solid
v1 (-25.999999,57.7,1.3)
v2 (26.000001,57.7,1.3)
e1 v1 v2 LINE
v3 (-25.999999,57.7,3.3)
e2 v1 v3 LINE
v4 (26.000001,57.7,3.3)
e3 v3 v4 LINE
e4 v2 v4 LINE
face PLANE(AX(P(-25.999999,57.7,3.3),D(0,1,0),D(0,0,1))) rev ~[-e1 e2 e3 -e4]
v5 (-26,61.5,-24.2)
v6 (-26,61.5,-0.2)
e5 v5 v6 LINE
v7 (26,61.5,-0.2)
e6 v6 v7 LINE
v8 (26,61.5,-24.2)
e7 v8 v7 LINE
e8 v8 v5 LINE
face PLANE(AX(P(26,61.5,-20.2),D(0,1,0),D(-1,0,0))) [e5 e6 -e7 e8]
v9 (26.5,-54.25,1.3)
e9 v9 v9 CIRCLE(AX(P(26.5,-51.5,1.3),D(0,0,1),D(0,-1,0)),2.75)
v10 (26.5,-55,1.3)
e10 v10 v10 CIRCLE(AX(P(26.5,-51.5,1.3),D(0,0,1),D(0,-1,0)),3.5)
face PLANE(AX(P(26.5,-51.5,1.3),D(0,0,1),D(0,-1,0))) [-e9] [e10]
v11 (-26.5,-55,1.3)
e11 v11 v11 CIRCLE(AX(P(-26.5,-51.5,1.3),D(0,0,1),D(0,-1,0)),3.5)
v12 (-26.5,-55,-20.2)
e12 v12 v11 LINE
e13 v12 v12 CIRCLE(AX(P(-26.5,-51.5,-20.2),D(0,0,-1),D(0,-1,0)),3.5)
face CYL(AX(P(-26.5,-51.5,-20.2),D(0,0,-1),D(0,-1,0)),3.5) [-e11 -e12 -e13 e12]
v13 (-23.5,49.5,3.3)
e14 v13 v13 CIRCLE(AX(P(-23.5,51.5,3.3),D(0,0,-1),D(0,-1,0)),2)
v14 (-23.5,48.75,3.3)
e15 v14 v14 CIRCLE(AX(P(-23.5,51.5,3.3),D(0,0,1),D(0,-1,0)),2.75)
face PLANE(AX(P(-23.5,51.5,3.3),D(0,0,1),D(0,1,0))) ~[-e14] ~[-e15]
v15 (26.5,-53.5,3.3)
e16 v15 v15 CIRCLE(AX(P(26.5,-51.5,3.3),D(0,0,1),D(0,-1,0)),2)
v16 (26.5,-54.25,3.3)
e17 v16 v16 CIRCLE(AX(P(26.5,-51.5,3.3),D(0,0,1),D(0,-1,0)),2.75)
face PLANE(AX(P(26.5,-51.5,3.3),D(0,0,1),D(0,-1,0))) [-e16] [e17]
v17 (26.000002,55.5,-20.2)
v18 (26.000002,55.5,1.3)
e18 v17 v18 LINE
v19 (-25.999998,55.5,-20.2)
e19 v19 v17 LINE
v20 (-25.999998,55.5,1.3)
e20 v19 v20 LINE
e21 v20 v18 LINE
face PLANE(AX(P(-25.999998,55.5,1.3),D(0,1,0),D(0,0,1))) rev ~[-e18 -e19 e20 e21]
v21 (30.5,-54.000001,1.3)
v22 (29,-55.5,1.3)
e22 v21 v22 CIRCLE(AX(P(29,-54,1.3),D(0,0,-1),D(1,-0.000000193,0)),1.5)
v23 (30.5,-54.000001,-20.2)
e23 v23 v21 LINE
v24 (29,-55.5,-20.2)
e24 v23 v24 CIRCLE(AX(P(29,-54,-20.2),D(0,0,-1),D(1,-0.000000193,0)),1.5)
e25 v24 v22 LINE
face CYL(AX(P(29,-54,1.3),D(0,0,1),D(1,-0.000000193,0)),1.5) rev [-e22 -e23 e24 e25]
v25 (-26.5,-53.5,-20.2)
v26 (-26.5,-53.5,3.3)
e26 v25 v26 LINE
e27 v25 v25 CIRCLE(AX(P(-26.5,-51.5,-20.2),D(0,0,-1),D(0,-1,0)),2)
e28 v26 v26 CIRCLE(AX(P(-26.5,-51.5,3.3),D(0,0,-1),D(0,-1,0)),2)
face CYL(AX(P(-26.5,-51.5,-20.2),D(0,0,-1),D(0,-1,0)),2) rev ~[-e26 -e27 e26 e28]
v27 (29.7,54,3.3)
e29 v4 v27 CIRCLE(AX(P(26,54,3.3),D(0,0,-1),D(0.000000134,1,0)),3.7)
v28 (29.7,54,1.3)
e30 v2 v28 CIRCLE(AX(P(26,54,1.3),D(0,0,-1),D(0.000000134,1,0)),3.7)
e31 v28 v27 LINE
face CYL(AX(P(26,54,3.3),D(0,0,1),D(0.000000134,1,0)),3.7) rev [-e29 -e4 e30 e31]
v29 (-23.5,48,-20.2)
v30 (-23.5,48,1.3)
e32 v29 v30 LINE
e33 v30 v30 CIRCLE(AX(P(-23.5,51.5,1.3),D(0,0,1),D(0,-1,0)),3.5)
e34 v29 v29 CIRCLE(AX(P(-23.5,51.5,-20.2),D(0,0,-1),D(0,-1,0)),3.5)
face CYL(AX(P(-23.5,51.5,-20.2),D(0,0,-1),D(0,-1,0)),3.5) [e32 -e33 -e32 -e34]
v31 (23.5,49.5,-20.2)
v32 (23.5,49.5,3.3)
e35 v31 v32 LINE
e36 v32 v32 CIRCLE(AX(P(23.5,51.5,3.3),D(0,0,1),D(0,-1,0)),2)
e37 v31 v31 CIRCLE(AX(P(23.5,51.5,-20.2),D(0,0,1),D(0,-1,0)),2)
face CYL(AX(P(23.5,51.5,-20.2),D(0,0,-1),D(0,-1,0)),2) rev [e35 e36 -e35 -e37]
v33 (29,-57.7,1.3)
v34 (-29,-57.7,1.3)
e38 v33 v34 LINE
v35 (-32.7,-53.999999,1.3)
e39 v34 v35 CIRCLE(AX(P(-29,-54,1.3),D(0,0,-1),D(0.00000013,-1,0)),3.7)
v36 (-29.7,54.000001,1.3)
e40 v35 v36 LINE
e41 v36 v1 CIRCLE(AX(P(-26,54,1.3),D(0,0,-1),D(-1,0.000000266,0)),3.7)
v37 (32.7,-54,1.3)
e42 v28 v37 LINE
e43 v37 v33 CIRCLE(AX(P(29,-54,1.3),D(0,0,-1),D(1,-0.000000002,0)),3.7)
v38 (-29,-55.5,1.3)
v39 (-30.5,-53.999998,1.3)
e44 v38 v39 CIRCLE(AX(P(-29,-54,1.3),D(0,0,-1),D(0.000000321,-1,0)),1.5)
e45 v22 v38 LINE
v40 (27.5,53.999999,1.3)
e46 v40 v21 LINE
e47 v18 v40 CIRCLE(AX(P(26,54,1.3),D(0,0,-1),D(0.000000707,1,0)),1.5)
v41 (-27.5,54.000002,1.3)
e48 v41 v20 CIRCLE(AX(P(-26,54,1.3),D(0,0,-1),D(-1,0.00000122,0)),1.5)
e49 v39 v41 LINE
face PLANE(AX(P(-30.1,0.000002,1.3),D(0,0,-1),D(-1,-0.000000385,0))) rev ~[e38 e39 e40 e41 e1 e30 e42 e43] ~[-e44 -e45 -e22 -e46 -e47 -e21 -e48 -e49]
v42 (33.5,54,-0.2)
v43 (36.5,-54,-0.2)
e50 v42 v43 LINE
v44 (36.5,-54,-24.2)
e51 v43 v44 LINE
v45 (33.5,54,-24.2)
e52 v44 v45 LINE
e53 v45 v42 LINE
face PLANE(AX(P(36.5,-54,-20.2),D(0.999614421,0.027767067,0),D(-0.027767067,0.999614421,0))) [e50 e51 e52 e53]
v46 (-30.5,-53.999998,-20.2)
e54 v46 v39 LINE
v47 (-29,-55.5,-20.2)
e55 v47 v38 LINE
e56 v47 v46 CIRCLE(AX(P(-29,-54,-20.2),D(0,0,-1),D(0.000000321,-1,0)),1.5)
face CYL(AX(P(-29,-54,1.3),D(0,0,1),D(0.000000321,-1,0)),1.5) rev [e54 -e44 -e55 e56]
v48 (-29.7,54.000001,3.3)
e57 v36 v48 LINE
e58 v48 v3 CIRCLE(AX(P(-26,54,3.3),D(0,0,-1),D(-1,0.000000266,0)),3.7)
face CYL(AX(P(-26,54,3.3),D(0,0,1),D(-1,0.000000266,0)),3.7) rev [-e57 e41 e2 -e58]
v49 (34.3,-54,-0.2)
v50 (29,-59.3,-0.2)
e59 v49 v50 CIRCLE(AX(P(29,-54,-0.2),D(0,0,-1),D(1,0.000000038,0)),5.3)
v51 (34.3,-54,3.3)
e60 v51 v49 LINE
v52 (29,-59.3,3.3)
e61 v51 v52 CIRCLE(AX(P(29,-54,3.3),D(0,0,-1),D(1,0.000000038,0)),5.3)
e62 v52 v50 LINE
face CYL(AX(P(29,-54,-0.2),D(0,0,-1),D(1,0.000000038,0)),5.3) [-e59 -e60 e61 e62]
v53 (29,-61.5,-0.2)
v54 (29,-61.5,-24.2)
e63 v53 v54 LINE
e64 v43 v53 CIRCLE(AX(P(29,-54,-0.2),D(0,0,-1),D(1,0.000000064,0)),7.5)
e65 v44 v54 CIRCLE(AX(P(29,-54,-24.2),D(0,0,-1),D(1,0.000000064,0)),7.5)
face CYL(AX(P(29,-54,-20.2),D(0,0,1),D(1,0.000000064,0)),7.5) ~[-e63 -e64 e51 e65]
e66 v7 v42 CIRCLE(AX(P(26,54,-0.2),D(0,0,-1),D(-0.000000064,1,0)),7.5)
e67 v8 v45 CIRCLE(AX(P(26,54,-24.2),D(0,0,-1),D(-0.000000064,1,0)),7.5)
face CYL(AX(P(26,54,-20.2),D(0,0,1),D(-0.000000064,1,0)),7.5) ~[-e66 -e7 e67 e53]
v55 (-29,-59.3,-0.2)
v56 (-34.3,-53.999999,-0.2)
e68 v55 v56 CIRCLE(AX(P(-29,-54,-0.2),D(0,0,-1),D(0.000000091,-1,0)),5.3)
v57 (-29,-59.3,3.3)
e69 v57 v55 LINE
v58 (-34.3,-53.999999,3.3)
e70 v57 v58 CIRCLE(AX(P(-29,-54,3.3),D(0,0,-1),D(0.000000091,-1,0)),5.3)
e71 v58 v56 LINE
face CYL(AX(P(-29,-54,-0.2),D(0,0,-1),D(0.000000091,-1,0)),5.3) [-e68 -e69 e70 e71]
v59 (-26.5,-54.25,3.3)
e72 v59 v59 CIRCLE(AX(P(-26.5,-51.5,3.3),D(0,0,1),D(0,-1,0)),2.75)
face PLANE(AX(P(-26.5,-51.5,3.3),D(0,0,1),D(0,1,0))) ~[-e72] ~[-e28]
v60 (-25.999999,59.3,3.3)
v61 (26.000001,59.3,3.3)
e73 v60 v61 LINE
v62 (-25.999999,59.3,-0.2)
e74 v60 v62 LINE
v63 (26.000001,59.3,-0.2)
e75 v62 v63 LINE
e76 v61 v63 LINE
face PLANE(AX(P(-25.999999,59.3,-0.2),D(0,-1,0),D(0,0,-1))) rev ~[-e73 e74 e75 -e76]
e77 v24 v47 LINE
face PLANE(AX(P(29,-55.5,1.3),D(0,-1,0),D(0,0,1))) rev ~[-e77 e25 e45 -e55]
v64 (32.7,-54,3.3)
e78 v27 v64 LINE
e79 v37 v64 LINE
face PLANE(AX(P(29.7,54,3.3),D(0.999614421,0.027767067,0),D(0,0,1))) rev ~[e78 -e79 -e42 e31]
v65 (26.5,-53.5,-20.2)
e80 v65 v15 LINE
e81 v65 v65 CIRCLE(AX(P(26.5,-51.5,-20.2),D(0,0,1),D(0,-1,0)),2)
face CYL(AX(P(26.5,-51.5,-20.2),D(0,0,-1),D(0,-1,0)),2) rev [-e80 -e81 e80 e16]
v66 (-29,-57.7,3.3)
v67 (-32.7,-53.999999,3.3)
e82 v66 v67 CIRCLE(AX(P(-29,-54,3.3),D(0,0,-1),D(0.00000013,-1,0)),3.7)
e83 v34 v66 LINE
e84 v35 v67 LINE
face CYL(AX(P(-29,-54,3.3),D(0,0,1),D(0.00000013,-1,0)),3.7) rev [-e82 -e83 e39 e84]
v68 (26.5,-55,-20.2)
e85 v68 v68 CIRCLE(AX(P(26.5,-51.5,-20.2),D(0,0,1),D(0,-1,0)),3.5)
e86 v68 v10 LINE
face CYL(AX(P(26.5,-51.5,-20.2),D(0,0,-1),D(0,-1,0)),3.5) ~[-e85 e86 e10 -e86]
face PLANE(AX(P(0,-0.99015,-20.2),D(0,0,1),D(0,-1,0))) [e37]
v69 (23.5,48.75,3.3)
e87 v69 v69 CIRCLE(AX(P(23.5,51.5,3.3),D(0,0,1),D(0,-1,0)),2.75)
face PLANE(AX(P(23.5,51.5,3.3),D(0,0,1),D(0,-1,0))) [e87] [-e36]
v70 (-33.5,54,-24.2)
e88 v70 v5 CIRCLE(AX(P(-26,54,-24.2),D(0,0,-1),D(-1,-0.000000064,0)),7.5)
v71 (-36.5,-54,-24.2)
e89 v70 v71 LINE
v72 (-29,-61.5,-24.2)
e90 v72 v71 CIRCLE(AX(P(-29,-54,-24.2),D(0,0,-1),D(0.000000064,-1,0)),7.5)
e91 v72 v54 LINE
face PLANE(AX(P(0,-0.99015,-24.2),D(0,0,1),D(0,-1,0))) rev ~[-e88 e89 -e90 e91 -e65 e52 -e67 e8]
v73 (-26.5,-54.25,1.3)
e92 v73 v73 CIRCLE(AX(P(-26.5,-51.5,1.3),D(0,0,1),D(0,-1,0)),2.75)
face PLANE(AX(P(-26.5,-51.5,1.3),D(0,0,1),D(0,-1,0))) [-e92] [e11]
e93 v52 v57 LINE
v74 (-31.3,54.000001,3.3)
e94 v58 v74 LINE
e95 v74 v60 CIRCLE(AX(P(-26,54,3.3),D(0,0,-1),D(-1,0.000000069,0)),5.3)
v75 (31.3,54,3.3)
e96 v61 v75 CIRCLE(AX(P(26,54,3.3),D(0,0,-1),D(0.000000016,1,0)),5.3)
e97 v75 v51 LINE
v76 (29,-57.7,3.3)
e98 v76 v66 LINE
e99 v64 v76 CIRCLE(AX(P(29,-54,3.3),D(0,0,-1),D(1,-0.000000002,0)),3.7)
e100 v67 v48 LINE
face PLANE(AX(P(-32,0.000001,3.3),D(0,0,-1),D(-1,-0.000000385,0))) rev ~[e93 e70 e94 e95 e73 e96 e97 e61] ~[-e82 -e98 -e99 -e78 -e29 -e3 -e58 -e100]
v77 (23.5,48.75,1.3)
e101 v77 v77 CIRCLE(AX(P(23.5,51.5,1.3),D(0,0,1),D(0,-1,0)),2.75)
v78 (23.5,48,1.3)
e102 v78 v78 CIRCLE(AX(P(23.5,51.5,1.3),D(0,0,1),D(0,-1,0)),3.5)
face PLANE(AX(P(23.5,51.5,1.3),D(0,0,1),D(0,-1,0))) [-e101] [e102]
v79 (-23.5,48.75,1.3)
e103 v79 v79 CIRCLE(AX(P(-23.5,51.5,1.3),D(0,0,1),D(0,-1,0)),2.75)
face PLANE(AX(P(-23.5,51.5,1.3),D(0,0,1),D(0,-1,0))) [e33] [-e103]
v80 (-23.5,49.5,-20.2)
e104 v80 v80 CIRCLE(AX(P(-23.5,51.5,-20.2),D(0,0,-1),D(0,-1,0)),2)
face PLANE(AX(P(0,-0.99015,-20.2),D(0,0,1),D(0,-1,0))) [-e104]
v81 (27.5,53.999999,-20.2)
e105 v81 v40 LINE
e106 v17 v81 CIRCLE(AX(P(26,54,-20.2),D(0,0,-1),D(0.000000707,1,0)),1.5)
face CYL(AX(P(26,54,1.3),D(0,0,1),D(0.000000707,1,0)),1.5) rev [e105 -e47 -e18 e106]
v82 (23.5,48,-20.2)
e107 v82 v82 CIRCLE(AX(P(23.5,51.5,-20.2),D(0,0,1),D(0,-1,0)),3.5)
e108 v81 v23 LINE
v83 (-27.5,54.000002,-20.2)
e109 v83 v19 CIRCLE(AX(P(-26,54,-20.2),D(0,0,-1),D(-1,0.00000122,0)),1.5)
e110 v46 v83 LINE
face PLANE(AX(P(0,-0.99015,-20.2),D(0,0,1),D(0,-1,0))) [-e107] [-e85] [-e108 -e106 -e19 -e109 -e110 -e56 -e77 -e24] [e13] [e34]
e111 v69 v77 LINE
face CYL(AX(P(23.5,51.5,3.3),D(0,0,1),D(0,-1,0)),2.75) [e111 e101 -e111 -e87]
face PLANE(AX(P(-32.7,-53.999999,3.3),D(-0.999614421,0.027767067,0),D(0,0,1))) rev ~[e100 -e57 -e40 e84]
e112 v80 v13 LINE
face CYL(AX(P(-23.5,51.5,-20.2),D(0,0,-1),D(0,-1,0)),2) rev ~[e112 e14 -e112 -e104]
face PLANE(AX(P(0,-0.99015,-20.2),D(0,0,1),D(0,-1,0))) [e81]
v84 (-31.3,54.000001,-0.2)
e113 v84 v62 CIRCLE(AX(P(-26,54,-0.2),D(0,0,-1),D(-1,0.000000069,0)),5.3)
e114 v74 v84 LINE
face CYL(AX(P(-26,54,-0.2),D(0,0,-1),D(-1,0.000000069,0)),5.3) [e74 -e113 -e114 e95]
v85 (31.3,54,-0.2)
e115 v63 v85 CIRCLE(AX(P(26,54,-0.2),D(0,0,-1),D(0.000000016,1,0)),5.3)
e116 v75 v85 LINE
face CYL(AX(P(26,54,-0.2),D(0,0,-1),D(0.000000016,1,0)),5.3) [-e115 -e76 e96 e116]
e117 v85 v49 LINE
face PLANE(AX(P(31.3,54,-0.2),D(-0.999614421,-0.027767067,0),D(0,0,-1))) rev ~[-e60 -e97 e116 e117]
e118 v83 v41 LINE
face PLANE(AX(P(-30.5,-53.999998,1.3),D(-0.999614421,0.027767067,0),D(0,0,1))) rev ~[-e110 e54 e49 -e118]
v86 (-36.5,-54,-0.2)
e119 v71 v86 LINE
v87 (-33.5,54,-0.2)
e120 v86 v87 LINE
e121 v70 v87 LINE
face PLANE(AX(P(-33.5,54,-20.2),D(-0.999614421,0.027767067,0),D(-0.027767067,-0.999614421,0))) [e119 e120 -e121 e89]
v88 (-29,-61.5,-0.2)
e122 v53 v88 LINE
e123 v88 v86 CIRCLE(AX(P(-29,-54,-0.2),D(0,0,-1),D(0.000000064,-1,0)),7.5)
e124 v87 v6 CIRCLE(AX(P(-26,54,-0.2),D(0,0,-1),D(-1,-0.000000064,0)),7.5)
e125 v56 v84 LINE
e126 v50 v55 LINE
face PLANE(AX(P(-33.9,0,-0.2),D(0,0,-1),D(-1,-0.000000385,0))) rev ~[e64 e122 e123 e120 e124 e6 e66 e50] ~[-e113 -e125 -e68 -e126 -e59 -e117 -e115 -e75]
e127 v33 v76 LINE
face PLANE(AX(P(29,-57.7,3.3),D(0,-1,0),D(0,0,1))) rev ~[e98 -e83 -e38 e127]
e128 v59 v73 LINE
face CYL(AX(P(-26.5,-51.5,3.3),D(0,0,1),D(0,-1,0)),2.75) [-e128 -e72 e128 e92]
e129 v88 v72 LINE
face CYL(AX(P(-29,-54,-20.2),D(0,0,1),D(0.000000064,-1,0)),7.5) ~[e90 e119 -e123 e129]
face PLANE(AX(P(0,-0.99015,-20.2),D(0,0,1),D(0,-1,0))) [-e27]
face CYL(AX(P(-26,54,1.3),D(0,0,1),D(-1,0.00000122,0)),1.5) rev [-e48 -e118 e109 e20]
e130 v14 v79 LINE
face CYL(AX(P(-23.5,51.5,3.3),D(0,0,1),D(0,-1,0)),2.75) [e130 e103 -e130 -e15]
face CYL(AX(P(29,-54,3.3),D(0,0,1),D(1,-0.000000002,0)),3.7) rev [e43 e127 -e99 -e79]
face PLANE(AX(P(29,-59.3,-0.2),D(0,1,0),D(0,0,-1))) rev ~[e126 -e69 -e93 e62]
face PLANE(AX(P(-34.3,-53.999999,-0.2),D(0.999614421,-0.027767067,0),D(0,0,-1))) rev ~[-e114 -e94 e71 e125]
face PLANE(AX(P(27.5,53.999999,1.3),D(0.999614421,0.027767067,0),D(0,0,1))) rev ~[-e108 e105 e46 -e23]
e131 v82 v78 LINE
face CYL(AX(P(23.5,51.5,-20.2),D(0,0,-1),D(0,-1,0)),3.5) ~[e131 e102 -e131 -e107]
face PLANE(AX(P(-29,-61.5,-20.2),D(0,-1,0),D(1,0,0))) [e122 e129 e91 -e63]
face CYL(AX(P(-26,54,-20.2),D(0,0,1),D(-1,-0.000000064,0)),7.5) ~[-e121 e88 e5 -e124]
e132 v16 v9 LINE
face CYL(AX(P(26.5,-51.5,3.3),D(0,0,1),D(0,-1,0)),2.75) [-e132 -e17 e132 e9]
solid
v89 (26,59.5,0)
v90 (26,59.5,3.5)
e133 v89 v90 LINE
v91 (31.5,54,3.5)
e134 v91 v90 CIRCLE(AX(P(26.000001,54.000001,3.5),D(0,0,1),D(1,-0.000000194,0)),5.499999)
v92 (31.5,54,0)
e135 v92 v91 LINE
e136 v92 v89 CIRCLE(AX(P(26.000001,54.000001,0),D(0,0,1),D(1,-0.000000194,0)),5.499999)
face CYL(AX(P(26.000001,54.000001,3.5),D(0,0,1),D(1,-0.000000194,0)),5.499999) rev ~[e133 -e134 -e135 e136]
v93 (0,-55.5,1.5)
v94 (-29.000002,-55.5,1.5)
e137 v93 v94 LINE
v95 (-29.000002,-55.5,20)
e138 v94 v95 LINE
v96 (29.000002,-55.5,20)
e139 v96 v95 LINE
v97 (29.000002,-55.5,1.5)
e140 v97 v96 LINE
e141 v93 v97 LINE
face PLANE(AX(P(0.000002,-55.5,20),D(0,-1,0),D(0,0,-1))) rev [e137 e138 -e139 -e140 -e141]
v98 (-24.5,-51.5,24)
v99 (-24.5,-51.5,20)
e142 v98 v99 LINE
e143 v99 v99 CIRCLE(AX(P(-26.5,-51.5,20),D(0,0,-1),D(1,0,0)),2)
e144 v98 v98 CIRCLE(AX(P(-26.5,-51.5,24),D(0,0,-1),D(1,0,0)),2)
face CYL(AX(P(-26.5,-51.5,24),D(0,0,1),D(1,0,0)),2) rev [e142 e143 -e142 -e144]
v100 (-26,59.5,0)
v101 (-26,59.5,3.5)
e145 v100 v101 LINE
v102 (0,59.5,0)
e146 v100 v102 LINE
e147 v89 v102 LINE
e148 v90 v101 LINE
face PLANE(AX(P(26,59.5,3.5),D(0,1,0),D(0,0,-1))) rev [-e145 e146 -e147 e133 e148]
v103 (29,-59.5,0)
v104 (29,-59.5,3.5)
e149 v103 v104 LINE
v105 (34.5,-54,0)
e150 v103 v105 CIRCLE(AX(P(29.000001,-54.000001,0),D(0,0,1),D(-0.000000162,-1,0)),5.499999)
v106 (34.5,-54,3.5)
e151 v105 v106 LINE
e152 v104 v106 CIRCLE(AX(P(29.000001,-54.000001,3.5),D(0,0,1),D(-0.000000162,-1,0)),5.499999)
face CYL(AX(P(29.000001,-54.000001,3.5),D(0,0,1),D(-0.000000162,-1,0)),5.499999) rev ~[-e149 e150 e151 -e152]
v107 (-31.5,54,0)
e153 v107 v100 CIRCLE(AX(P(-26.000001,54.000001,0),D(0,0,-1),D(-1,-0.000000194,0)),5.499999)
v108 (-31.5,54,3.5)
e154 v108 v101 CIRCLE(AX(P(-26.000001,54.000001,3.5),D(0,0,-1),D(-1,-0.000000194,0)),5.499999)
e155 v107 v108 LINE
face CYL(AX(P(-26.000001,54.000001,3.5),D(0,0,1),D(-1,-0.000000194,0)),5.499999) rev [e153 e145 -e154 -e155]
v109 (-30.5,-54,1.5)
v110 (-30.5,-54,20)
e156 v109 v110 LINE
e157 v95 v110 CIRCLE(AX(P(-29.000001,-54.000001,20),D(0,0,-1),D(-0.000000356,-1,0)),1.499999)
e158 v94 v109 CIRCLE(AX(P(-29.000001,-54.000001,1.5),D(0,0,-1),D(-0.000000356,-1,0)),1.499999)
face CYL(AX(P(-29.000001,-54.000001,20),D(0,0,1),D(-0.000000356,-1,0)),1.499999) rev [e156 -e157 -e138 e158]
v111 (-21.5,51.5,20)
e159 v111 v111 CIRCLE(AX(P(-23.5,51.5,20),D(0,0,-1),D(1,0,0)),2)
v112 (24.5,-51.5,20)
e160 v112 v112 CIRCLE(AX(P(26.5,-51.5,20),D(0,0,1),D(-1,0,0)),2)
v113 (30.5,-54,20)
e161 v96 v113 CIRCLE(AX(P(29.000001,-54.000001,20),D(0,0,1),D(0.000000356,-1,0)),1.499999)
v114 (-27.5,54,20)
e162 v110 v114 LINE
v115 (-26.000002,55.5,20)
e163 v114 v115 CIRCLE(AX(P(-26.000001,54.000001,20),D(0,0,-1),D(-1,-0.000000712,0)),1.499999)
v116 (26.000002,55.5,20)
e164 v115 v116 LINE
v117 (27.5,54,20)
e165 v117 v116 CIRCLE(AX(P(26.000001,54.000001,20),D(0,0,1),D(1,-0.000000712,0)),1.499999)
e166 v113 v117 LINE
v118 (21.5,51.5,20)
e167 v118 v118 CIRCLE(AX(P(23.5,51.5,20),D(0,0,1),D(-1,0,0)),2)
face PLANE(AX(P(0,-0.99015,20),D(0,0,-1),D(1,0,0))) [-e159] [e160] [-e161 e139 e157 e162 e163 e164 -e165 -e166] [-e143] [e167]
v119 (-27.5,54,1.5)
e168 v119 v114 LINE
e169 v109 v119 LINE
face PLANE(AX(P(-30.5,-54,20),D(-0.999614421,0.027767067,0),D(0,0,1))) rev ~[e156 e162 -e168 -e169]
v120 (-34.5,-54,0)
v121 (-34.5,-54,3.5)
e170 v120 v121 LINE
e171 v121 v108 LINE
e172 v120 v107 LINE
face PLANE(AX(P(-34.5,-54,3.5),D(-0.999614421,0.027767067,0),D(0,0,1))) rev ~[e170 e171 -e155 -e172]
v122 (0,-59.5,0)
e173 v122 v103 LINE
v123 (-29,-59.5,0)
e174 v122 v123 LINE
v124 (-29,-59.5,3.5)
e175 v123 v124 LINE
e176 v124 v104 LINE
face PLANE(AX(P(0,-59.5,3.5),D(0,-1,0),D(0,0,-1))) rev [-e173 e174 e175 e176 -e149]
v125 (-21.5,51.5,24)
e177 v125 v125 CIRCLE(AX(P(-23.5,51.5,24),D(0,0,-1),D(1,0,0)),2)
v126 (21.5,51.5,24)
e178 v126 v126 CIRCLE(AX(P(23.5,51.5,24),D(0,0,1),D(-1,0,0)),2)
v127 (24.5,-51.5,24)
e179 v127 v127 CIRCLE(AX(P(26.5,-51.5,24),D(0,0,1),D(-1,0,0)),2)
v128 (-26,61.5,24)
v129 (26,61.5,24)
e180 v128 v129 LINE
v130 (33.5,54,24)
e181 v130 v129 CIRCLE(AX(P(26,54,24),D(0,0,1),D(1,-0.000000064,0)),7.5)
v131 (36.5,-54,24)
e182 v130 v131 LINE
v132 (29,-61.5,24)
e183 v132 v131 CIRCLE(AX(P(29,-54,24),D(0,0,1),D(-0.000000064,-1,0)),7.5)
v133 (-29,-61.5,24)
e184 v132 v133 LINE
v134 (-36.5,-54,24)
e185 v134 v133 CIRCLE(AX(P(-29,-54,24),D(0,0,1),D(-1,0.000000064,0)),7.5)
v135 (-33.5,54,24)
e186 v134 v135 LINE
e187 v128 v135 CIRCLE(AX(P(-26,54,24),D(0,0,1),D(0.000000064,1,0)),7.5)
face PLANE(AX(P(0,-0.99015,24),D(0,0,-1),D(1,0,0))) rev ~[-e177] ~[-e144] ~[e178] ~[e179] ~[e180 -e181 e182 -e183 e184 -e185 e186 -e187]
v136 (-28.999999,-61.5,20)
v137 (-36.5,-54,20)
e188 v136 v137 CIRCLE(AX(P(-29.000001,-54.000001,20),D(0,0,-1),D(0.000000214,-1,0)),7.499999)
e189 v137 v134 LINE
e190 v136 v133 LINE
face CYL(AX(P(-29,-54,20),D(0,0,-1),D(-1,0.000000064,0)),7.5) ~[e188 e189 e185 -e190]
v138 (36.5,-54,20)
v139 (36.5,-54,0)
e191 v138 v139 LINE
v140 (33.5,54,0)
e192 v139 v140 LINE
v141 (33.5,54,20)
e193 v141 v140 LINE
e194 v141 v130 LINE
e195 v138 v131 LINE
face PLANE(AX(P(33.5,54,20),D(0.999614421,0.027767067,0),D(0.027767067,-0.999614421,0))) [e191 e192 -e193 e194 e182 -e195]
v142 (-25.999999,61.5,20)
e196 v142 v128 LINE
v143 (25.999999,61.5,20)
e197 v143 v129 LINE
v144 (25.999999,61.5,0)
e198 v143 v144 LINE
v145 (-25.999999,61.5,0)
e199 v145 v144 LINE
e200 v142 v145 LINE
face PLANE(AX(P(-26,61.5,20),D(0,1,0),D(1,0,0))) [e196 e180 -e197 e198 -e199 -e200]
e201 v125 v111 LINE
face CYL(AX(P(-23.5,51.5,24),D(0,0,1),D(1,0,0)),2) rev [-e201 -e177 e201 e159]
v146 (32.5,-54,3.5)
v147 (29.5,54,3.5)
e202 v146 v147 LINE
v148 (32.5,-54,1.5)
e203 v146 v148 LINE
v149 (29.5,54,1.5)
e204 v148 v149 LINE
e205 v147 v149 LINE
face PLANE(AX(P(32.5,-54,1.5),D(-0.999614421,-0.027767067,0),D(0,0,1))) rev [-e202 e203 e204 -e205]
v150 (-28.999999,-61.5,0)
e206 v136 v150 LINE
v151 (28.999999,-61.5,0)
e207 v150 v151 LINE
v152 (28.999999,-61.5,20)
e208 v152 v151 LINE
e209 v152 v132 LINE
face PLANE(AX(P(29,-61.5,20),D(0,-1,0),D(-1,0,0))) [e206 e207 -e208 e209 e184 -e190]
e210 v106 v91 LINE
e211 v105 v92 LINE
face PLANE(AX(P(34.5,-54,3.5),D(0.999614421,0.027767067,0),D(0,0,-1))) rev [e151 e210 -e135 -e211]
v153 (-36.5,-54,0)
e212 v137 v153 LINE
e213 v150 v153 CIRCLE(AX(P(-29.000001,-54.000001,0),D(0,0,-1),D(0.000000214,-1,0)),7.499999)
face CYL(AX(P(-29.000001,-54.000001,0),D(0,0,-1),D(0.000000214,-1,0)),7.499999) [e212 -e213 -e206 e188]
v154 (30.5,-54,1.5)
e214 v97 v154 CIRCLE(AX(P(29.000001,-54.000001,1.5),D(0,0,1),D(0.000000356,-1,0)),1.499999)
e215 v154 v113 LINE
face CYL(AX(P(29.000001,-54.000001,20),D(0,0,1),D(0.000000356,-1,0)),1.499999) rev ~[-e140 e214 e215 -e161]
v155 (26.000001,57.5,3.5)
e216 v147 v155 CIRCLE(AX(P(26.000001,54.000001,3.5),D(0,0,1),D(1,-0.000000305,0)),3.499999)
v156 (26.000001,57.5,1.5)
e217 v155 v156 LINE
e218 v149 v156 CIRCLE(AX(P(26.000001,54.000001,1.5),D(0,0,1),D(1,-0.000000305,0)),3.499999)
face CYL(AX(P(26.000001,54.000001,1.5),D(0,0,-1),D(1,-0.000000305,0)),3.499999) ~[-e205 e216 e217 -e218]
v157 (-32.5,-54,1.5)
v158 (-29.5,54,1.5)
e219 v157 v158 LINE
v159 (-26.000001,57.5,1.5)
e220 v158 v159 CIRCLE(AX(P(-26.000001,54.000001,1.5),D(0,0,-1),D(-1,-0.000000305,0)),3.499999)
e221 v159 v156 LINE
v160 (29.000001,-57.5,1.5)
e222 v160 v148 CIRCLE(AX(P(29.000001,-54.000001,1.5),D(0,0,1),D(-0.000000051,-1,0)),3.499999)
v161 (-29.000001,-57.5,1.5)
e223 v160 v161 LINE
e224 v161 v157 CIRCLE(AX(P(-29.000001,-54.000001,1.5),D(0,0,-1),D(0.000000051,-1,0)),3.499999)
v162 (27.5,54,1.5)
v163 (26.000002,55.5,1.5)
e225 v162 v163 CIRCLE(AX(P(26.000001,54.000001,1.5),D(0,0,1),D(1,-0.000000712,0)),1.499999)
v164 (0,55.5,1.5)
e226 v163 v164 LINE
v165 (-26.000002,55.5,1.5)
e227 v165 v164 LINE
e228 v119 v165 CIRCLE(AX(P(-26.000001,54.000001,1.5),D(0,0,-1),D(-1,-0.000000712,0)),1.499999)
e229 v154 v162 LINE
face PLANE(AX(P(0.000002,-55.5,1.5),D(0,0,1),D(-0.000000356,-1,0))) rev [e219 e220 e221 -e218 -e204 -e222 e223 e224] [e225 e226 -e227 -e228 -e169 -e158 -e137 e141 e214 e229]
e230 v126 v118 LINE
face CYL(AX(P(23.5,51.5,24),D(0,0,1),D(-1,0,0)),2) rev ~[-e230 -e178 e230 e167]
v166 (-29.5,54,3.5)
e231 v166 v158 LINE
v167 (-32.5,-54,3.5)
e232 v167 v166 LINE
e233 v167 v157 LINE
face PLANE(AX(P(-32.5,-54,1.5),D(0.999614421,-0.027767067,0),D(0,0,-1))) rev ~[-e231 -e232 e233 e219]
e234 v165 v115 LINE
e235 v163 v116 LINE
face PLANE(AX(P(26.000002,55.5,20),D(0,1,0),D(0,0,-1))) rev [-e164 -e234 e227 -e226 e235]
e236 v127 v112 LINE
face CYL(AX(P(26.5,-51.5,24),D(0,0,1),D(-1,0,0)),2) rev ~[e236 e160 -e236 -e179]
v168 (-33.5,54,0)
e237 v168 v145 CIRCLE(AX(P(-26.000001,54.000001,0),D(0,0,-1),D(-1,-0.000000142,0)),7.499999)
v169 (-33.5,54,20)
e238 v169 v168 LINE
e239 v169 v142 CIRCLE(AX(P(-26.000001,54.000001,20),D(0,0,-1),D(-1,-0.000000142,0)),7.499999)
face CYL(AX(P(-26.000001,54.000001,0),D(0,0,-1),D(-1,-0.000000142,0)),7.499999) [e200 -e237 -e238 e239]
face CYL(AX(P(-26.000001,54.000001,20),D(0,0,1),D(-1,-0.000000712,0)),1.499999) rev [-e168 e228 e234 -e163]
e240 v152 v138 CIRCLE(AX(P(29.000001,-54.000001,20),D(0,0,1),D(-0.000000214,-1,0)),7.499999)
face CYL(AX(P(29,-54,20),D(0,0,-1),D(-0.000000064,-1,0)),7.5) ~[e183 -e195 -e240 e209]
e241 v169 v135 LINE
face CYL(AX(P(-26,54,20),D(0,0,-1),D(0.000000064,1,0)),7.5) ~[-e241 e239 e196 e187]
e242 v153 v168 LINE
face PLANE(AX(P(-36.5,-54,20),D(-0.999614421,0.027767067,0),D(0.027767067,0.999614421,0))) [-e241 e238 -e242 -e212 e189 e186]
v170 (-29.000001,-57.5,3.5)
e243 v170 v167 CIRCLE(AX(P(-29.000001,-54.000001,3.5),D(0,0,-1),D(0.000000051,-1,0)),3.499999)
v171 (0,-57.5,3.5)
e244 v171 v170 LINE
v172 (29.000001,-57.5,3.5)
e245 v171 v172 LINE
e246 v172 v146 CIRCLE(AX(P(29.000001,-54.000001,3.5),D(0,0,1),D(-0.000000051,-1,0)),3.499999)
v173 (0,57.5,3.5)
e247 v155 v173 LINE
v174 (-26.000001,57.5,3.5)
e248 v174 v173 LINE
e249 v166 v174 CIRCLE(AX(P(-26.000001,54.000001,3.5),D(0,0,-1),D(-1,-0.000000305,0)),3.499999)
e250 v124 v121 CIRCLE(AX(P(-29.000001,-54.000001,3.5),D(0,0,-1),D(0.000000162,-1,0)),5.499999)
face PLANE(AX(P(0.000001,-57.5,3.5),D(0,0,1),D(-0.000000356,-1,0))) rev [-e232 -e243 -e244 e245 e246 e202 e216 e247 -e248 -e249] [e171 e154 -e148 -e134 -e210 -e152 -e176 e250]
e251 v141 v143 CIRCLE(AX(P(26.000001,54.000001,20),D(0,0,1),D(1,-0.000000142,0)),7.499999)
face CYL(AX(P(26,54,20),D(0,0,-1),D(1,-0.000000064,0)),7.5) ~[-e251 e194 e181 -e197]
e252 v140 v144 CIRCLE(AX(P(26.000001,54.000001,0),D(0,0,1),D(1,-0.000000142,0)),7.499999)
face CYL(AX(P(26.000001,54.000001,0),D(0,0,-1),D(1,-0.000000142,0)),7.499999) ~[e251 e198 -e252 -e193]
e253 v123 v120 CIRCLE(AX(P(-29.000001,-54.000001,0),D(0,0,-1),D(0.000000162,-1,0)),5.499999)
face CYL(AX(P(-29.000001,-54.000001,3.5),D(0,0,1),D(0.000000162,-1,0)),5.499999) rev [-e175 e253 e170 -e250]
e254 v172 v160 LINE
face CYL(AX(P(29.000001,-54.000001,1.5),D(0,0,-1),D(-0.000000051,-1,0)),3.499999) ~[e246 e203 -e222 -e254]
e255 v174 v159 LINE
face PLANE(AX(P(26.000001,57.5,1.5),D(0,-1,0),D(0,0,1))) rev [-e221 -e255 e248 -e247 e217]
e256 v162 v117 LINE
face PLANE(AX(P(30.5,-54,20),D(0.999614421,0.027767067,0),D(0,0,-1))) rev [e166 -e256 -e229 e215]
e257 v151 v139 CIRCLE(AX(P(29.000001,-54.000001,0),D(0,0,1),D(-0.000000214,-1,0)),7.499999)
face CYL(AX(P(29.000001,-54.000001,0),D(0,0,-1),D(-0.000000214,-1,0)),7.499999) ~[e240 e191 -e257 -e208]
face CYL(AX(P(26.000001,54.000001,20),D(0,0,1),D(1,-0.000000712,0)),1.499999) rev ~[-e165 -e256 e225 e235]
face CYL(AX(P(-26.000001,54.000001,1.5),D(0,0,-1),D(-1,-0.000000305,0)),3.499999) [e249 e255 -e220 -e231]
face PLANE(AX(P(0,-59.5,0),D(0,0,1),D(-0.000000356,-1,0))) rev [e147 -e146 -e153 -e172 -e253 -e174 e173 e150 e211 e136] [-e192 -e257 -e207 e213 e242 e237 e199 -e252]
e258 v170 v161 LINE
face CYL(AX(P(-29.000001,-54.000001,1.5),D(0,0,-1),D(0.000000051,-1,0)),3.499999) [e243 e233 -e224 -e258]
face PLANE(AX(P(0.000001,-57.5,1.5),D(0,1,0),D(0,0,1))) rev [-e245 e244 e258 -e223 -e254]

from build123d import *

# Parameters (mm, degrees)
PAD_DEPTH       = 4
SKETCH006_R     = 2
POCKET_DEPTH    = 4
PAD001_DEPTH    = 4
SKETCH007_R     = 3.5
SKETCH007_R_2   = 2
PAD002_DEPTH    = 23.5
SKETCH008_R     = 3.5
SKETCH008_R_2   = 2.75
POCKET001_DEPTH = 2


with BuildPart() as topshell:
    # AdditivePipe: sweep along a path in Sketch
    with BuildLine(Plane.XY) as additivepipe_path:
        Line((0, -60), (-29, -60))
        ThreePointArc((-29, -60), (-33.242641, -58.242641), (-35, -54))
        Line((-35, -54), (-32, 54))
        ThreePointArc((-32, 54), (-30.242641, 58.242641), (-26, 60))
        Line((-26, 60), (0, 60))
    # Sketch001 → AdditivePipe (sweep)
    with BuildSketch(Plane.XZ):
        Polygon((-35, 0), (-35, 20), (-29, 20), (-29, 1.5), (-31, 1.5), (-31, 3.5), (-33, 3.5), (-33, 0), align=None)
    additivepipe = sweep(path=additivepipe_path.line)

    # Mirrored: AdditivePipe across Sketch001 V_Axis
    add(additivepipe.mirror(Plane(origin=(0, 0, 0), x_dir=(0, -1, 0), z_dir=(1, 0, 0))))

    # Sketch002 (on Face24 of Mirrored) → Pad (new body)
    with BuildSketch(Plane(origin=(0, 0, 20), x_dir=(-1, 0, 0), z_dir=(0, 0, 1))):
        with BuildLine():
            Line((-33.5, -54), (-36.5, 54))
            ThreePointArc((-29, 61.5), (-34.303301, 59.303301), (-36.5, 54))
            Line((-29, 61.5), (29, 61.5))
            ThreePointArc((36.5, 54), (34.303301, 59.303301), (29, 61.5))
            Line((36.5, 54), (33.5, -54))
            ThreePointArc((26, -61.5), (31.303301, -59.303301), (33.5, -54))
            Line((26, -61.5), (-26, -61.5))
            ThreePointArc((-33.5, -54), (-31.303301, -59.303301), (-26, -61.5))
        make_face()
    extrude(amount=PAD_DEPTH)

    # Sketch006 (on Face12 of Pad) → Pocket (cut)
    with BuildSketch(Plane(origin=(0, 0, 24), x_dir=(-1, 0, 0), z_dir=(0, 0, 1))):
        with Locations((-23.5, -51.5)):
            Circle(SKETCH006_R)
        with Locations((-26.5, 51.5)):
            Circle(SKETCH006_R)
    pocket = extrude(amount=-POCKET_DEPTH, mode=Mode.SUBTRACT)

    # Mirrored001: Pocket across Sketch006 V_Axis
    add(pocket.mirror(Plane(origin=(0, 0, 24), x_dir=(0, 0, 1), z_dir=(-1, 0, 0))), mode=Mode.SUBTRACT)


with BuildPart() as bottomshell:
    # AdditivePipe001: sweep along a path in Sketch003
    with BuildLine(Plane.XY) as additivepipe001_path:
        Line((-36.5, -54), (-33.5, 54))
        ThreePointArc((-33.5, 54), (-31.303301, 59.303301), (-26, 61.5))
        Line((-26, 61.5), (26, 61.5))
        ThreePointArc((26, 61.5), (31.303301, 59.303301), (33.5, 54))
        Line((33.5, 54), (36.5, -54))
        ThreePointArc((36.5, -54), (34.303301, -59.303301), (29, -61.5))
        Line((29, -61.5), (-29, -61.5))
        ThreePointArc((-29, -61.5), (-34.303301, -59.303301), (-36.5, -54))
    # Sketch004 → AdditivePipe001 (sweep)
    with BuildSketch(Plane.YZ):
        Polygon((-61.5, -0.2), (-59.3, -0.2), (-59.3, 3.3), (-57.7, 3.3), (-57.7, 1.3), (-55.5, 1.3), (-55.5, -20.2), (-61.5, -20.2), align=None)
    sweep(path=additivepipe001_path.line)

    # Sketch005 (on Face55 of AdditivePipe001) → Pad001 (new body)
    with BuildSketch(Plane.YX.offset(20.2)):
        with BuildLine():
            Line((-54, 36.5), (54, 33.5))
            ThreePointArc((61.5, 26), (59.303301, 31.303301), (54, 33.5))
            Line((61.5, 26), (61.5, -26))
            ThreePointArc((54, -33.5), (59.303301, -31.303301), (61.5, -26))
            Line((54, -33.5), (-54, -36.5))
            ThreePointArc((-61.5, -29), (-59.303301, -34.303301), (-54, -36.5))
            Line((-61.5, -29), (-61.5, 29))
            ThreePointArc((-54, 36.5), (-59.303301, 34.303301), (-61.5, 29))
        make_face()
    extrude(amount=PAD001_DEPTH)

    # Sketch007 (on Face54 of Pad001) → Pad002 (join)
    with BuildSketch(Plane(origin=(0, 0, -20.2), x_dir=(0, -1, 0), z_dir=(0, 0, 1))):
        with Locations((-51.5, 23.5)):
            Circle(SKETCH007_R)
        with Locations((-51.5, 23.5)):
            Circle(SKETCH007_R_2, mode=Mode.SUBTRACT)
        with Locations((51.5, 26.5)):
            Circle(SKETCH007_R)
        with Locations((51.5, 26.5)):
            Circle(SKETCH007_R_2, mode=Mode.SUBTRACT)
    pad002 = extrude(amount=PAD002_DEPTH)

    # Mirrored002: Pad002 across YZ
    add(pad002.mirror(Plane.YZ))

    # Sketch008 (on Face74 of Mirrored002) → Pocket001 (cut)
    with BuildSketch(Plane(origin=(0, 0, 3.3), x_dir=(0, -1, 0), z_dir=(0, 0, 1))):
        with Locations((-51.5, 23.5)):
            Circle(SKETCH008_R)
        with Locations((-51.5, 23.5)):
            Circle(SKETCH008_R_2, mode=Mode.SUBTRACT)
        with Locations((51.5, 26.5)):
            Circle(SKETCH008_R)
        with Locations((51.5, 26.5)):
            Circle(SKETCH008_R_2, mode=Mode.SUBTRACT)
        with Locations((51.5, -26.5)):
            Circle(SKETCH008_R)
        with Locations((51.5, -26.5)):
            Circle(SKETCH008_R_2, mode=Mode.SUBTRACT)
        with Locations((-51.5, -23.5)):
            Circle(SKETCH008_R)
        with Locations((-51.5, -23.5)):
            Circle(SKETCH008_R_2, mode=Mode.SUBTRACT)
    extrude(amount=-POCKET001_DEPTH, mode=Mode.SUBTRACT)


solid = Compound([topshell.part, bottomshell.part])
